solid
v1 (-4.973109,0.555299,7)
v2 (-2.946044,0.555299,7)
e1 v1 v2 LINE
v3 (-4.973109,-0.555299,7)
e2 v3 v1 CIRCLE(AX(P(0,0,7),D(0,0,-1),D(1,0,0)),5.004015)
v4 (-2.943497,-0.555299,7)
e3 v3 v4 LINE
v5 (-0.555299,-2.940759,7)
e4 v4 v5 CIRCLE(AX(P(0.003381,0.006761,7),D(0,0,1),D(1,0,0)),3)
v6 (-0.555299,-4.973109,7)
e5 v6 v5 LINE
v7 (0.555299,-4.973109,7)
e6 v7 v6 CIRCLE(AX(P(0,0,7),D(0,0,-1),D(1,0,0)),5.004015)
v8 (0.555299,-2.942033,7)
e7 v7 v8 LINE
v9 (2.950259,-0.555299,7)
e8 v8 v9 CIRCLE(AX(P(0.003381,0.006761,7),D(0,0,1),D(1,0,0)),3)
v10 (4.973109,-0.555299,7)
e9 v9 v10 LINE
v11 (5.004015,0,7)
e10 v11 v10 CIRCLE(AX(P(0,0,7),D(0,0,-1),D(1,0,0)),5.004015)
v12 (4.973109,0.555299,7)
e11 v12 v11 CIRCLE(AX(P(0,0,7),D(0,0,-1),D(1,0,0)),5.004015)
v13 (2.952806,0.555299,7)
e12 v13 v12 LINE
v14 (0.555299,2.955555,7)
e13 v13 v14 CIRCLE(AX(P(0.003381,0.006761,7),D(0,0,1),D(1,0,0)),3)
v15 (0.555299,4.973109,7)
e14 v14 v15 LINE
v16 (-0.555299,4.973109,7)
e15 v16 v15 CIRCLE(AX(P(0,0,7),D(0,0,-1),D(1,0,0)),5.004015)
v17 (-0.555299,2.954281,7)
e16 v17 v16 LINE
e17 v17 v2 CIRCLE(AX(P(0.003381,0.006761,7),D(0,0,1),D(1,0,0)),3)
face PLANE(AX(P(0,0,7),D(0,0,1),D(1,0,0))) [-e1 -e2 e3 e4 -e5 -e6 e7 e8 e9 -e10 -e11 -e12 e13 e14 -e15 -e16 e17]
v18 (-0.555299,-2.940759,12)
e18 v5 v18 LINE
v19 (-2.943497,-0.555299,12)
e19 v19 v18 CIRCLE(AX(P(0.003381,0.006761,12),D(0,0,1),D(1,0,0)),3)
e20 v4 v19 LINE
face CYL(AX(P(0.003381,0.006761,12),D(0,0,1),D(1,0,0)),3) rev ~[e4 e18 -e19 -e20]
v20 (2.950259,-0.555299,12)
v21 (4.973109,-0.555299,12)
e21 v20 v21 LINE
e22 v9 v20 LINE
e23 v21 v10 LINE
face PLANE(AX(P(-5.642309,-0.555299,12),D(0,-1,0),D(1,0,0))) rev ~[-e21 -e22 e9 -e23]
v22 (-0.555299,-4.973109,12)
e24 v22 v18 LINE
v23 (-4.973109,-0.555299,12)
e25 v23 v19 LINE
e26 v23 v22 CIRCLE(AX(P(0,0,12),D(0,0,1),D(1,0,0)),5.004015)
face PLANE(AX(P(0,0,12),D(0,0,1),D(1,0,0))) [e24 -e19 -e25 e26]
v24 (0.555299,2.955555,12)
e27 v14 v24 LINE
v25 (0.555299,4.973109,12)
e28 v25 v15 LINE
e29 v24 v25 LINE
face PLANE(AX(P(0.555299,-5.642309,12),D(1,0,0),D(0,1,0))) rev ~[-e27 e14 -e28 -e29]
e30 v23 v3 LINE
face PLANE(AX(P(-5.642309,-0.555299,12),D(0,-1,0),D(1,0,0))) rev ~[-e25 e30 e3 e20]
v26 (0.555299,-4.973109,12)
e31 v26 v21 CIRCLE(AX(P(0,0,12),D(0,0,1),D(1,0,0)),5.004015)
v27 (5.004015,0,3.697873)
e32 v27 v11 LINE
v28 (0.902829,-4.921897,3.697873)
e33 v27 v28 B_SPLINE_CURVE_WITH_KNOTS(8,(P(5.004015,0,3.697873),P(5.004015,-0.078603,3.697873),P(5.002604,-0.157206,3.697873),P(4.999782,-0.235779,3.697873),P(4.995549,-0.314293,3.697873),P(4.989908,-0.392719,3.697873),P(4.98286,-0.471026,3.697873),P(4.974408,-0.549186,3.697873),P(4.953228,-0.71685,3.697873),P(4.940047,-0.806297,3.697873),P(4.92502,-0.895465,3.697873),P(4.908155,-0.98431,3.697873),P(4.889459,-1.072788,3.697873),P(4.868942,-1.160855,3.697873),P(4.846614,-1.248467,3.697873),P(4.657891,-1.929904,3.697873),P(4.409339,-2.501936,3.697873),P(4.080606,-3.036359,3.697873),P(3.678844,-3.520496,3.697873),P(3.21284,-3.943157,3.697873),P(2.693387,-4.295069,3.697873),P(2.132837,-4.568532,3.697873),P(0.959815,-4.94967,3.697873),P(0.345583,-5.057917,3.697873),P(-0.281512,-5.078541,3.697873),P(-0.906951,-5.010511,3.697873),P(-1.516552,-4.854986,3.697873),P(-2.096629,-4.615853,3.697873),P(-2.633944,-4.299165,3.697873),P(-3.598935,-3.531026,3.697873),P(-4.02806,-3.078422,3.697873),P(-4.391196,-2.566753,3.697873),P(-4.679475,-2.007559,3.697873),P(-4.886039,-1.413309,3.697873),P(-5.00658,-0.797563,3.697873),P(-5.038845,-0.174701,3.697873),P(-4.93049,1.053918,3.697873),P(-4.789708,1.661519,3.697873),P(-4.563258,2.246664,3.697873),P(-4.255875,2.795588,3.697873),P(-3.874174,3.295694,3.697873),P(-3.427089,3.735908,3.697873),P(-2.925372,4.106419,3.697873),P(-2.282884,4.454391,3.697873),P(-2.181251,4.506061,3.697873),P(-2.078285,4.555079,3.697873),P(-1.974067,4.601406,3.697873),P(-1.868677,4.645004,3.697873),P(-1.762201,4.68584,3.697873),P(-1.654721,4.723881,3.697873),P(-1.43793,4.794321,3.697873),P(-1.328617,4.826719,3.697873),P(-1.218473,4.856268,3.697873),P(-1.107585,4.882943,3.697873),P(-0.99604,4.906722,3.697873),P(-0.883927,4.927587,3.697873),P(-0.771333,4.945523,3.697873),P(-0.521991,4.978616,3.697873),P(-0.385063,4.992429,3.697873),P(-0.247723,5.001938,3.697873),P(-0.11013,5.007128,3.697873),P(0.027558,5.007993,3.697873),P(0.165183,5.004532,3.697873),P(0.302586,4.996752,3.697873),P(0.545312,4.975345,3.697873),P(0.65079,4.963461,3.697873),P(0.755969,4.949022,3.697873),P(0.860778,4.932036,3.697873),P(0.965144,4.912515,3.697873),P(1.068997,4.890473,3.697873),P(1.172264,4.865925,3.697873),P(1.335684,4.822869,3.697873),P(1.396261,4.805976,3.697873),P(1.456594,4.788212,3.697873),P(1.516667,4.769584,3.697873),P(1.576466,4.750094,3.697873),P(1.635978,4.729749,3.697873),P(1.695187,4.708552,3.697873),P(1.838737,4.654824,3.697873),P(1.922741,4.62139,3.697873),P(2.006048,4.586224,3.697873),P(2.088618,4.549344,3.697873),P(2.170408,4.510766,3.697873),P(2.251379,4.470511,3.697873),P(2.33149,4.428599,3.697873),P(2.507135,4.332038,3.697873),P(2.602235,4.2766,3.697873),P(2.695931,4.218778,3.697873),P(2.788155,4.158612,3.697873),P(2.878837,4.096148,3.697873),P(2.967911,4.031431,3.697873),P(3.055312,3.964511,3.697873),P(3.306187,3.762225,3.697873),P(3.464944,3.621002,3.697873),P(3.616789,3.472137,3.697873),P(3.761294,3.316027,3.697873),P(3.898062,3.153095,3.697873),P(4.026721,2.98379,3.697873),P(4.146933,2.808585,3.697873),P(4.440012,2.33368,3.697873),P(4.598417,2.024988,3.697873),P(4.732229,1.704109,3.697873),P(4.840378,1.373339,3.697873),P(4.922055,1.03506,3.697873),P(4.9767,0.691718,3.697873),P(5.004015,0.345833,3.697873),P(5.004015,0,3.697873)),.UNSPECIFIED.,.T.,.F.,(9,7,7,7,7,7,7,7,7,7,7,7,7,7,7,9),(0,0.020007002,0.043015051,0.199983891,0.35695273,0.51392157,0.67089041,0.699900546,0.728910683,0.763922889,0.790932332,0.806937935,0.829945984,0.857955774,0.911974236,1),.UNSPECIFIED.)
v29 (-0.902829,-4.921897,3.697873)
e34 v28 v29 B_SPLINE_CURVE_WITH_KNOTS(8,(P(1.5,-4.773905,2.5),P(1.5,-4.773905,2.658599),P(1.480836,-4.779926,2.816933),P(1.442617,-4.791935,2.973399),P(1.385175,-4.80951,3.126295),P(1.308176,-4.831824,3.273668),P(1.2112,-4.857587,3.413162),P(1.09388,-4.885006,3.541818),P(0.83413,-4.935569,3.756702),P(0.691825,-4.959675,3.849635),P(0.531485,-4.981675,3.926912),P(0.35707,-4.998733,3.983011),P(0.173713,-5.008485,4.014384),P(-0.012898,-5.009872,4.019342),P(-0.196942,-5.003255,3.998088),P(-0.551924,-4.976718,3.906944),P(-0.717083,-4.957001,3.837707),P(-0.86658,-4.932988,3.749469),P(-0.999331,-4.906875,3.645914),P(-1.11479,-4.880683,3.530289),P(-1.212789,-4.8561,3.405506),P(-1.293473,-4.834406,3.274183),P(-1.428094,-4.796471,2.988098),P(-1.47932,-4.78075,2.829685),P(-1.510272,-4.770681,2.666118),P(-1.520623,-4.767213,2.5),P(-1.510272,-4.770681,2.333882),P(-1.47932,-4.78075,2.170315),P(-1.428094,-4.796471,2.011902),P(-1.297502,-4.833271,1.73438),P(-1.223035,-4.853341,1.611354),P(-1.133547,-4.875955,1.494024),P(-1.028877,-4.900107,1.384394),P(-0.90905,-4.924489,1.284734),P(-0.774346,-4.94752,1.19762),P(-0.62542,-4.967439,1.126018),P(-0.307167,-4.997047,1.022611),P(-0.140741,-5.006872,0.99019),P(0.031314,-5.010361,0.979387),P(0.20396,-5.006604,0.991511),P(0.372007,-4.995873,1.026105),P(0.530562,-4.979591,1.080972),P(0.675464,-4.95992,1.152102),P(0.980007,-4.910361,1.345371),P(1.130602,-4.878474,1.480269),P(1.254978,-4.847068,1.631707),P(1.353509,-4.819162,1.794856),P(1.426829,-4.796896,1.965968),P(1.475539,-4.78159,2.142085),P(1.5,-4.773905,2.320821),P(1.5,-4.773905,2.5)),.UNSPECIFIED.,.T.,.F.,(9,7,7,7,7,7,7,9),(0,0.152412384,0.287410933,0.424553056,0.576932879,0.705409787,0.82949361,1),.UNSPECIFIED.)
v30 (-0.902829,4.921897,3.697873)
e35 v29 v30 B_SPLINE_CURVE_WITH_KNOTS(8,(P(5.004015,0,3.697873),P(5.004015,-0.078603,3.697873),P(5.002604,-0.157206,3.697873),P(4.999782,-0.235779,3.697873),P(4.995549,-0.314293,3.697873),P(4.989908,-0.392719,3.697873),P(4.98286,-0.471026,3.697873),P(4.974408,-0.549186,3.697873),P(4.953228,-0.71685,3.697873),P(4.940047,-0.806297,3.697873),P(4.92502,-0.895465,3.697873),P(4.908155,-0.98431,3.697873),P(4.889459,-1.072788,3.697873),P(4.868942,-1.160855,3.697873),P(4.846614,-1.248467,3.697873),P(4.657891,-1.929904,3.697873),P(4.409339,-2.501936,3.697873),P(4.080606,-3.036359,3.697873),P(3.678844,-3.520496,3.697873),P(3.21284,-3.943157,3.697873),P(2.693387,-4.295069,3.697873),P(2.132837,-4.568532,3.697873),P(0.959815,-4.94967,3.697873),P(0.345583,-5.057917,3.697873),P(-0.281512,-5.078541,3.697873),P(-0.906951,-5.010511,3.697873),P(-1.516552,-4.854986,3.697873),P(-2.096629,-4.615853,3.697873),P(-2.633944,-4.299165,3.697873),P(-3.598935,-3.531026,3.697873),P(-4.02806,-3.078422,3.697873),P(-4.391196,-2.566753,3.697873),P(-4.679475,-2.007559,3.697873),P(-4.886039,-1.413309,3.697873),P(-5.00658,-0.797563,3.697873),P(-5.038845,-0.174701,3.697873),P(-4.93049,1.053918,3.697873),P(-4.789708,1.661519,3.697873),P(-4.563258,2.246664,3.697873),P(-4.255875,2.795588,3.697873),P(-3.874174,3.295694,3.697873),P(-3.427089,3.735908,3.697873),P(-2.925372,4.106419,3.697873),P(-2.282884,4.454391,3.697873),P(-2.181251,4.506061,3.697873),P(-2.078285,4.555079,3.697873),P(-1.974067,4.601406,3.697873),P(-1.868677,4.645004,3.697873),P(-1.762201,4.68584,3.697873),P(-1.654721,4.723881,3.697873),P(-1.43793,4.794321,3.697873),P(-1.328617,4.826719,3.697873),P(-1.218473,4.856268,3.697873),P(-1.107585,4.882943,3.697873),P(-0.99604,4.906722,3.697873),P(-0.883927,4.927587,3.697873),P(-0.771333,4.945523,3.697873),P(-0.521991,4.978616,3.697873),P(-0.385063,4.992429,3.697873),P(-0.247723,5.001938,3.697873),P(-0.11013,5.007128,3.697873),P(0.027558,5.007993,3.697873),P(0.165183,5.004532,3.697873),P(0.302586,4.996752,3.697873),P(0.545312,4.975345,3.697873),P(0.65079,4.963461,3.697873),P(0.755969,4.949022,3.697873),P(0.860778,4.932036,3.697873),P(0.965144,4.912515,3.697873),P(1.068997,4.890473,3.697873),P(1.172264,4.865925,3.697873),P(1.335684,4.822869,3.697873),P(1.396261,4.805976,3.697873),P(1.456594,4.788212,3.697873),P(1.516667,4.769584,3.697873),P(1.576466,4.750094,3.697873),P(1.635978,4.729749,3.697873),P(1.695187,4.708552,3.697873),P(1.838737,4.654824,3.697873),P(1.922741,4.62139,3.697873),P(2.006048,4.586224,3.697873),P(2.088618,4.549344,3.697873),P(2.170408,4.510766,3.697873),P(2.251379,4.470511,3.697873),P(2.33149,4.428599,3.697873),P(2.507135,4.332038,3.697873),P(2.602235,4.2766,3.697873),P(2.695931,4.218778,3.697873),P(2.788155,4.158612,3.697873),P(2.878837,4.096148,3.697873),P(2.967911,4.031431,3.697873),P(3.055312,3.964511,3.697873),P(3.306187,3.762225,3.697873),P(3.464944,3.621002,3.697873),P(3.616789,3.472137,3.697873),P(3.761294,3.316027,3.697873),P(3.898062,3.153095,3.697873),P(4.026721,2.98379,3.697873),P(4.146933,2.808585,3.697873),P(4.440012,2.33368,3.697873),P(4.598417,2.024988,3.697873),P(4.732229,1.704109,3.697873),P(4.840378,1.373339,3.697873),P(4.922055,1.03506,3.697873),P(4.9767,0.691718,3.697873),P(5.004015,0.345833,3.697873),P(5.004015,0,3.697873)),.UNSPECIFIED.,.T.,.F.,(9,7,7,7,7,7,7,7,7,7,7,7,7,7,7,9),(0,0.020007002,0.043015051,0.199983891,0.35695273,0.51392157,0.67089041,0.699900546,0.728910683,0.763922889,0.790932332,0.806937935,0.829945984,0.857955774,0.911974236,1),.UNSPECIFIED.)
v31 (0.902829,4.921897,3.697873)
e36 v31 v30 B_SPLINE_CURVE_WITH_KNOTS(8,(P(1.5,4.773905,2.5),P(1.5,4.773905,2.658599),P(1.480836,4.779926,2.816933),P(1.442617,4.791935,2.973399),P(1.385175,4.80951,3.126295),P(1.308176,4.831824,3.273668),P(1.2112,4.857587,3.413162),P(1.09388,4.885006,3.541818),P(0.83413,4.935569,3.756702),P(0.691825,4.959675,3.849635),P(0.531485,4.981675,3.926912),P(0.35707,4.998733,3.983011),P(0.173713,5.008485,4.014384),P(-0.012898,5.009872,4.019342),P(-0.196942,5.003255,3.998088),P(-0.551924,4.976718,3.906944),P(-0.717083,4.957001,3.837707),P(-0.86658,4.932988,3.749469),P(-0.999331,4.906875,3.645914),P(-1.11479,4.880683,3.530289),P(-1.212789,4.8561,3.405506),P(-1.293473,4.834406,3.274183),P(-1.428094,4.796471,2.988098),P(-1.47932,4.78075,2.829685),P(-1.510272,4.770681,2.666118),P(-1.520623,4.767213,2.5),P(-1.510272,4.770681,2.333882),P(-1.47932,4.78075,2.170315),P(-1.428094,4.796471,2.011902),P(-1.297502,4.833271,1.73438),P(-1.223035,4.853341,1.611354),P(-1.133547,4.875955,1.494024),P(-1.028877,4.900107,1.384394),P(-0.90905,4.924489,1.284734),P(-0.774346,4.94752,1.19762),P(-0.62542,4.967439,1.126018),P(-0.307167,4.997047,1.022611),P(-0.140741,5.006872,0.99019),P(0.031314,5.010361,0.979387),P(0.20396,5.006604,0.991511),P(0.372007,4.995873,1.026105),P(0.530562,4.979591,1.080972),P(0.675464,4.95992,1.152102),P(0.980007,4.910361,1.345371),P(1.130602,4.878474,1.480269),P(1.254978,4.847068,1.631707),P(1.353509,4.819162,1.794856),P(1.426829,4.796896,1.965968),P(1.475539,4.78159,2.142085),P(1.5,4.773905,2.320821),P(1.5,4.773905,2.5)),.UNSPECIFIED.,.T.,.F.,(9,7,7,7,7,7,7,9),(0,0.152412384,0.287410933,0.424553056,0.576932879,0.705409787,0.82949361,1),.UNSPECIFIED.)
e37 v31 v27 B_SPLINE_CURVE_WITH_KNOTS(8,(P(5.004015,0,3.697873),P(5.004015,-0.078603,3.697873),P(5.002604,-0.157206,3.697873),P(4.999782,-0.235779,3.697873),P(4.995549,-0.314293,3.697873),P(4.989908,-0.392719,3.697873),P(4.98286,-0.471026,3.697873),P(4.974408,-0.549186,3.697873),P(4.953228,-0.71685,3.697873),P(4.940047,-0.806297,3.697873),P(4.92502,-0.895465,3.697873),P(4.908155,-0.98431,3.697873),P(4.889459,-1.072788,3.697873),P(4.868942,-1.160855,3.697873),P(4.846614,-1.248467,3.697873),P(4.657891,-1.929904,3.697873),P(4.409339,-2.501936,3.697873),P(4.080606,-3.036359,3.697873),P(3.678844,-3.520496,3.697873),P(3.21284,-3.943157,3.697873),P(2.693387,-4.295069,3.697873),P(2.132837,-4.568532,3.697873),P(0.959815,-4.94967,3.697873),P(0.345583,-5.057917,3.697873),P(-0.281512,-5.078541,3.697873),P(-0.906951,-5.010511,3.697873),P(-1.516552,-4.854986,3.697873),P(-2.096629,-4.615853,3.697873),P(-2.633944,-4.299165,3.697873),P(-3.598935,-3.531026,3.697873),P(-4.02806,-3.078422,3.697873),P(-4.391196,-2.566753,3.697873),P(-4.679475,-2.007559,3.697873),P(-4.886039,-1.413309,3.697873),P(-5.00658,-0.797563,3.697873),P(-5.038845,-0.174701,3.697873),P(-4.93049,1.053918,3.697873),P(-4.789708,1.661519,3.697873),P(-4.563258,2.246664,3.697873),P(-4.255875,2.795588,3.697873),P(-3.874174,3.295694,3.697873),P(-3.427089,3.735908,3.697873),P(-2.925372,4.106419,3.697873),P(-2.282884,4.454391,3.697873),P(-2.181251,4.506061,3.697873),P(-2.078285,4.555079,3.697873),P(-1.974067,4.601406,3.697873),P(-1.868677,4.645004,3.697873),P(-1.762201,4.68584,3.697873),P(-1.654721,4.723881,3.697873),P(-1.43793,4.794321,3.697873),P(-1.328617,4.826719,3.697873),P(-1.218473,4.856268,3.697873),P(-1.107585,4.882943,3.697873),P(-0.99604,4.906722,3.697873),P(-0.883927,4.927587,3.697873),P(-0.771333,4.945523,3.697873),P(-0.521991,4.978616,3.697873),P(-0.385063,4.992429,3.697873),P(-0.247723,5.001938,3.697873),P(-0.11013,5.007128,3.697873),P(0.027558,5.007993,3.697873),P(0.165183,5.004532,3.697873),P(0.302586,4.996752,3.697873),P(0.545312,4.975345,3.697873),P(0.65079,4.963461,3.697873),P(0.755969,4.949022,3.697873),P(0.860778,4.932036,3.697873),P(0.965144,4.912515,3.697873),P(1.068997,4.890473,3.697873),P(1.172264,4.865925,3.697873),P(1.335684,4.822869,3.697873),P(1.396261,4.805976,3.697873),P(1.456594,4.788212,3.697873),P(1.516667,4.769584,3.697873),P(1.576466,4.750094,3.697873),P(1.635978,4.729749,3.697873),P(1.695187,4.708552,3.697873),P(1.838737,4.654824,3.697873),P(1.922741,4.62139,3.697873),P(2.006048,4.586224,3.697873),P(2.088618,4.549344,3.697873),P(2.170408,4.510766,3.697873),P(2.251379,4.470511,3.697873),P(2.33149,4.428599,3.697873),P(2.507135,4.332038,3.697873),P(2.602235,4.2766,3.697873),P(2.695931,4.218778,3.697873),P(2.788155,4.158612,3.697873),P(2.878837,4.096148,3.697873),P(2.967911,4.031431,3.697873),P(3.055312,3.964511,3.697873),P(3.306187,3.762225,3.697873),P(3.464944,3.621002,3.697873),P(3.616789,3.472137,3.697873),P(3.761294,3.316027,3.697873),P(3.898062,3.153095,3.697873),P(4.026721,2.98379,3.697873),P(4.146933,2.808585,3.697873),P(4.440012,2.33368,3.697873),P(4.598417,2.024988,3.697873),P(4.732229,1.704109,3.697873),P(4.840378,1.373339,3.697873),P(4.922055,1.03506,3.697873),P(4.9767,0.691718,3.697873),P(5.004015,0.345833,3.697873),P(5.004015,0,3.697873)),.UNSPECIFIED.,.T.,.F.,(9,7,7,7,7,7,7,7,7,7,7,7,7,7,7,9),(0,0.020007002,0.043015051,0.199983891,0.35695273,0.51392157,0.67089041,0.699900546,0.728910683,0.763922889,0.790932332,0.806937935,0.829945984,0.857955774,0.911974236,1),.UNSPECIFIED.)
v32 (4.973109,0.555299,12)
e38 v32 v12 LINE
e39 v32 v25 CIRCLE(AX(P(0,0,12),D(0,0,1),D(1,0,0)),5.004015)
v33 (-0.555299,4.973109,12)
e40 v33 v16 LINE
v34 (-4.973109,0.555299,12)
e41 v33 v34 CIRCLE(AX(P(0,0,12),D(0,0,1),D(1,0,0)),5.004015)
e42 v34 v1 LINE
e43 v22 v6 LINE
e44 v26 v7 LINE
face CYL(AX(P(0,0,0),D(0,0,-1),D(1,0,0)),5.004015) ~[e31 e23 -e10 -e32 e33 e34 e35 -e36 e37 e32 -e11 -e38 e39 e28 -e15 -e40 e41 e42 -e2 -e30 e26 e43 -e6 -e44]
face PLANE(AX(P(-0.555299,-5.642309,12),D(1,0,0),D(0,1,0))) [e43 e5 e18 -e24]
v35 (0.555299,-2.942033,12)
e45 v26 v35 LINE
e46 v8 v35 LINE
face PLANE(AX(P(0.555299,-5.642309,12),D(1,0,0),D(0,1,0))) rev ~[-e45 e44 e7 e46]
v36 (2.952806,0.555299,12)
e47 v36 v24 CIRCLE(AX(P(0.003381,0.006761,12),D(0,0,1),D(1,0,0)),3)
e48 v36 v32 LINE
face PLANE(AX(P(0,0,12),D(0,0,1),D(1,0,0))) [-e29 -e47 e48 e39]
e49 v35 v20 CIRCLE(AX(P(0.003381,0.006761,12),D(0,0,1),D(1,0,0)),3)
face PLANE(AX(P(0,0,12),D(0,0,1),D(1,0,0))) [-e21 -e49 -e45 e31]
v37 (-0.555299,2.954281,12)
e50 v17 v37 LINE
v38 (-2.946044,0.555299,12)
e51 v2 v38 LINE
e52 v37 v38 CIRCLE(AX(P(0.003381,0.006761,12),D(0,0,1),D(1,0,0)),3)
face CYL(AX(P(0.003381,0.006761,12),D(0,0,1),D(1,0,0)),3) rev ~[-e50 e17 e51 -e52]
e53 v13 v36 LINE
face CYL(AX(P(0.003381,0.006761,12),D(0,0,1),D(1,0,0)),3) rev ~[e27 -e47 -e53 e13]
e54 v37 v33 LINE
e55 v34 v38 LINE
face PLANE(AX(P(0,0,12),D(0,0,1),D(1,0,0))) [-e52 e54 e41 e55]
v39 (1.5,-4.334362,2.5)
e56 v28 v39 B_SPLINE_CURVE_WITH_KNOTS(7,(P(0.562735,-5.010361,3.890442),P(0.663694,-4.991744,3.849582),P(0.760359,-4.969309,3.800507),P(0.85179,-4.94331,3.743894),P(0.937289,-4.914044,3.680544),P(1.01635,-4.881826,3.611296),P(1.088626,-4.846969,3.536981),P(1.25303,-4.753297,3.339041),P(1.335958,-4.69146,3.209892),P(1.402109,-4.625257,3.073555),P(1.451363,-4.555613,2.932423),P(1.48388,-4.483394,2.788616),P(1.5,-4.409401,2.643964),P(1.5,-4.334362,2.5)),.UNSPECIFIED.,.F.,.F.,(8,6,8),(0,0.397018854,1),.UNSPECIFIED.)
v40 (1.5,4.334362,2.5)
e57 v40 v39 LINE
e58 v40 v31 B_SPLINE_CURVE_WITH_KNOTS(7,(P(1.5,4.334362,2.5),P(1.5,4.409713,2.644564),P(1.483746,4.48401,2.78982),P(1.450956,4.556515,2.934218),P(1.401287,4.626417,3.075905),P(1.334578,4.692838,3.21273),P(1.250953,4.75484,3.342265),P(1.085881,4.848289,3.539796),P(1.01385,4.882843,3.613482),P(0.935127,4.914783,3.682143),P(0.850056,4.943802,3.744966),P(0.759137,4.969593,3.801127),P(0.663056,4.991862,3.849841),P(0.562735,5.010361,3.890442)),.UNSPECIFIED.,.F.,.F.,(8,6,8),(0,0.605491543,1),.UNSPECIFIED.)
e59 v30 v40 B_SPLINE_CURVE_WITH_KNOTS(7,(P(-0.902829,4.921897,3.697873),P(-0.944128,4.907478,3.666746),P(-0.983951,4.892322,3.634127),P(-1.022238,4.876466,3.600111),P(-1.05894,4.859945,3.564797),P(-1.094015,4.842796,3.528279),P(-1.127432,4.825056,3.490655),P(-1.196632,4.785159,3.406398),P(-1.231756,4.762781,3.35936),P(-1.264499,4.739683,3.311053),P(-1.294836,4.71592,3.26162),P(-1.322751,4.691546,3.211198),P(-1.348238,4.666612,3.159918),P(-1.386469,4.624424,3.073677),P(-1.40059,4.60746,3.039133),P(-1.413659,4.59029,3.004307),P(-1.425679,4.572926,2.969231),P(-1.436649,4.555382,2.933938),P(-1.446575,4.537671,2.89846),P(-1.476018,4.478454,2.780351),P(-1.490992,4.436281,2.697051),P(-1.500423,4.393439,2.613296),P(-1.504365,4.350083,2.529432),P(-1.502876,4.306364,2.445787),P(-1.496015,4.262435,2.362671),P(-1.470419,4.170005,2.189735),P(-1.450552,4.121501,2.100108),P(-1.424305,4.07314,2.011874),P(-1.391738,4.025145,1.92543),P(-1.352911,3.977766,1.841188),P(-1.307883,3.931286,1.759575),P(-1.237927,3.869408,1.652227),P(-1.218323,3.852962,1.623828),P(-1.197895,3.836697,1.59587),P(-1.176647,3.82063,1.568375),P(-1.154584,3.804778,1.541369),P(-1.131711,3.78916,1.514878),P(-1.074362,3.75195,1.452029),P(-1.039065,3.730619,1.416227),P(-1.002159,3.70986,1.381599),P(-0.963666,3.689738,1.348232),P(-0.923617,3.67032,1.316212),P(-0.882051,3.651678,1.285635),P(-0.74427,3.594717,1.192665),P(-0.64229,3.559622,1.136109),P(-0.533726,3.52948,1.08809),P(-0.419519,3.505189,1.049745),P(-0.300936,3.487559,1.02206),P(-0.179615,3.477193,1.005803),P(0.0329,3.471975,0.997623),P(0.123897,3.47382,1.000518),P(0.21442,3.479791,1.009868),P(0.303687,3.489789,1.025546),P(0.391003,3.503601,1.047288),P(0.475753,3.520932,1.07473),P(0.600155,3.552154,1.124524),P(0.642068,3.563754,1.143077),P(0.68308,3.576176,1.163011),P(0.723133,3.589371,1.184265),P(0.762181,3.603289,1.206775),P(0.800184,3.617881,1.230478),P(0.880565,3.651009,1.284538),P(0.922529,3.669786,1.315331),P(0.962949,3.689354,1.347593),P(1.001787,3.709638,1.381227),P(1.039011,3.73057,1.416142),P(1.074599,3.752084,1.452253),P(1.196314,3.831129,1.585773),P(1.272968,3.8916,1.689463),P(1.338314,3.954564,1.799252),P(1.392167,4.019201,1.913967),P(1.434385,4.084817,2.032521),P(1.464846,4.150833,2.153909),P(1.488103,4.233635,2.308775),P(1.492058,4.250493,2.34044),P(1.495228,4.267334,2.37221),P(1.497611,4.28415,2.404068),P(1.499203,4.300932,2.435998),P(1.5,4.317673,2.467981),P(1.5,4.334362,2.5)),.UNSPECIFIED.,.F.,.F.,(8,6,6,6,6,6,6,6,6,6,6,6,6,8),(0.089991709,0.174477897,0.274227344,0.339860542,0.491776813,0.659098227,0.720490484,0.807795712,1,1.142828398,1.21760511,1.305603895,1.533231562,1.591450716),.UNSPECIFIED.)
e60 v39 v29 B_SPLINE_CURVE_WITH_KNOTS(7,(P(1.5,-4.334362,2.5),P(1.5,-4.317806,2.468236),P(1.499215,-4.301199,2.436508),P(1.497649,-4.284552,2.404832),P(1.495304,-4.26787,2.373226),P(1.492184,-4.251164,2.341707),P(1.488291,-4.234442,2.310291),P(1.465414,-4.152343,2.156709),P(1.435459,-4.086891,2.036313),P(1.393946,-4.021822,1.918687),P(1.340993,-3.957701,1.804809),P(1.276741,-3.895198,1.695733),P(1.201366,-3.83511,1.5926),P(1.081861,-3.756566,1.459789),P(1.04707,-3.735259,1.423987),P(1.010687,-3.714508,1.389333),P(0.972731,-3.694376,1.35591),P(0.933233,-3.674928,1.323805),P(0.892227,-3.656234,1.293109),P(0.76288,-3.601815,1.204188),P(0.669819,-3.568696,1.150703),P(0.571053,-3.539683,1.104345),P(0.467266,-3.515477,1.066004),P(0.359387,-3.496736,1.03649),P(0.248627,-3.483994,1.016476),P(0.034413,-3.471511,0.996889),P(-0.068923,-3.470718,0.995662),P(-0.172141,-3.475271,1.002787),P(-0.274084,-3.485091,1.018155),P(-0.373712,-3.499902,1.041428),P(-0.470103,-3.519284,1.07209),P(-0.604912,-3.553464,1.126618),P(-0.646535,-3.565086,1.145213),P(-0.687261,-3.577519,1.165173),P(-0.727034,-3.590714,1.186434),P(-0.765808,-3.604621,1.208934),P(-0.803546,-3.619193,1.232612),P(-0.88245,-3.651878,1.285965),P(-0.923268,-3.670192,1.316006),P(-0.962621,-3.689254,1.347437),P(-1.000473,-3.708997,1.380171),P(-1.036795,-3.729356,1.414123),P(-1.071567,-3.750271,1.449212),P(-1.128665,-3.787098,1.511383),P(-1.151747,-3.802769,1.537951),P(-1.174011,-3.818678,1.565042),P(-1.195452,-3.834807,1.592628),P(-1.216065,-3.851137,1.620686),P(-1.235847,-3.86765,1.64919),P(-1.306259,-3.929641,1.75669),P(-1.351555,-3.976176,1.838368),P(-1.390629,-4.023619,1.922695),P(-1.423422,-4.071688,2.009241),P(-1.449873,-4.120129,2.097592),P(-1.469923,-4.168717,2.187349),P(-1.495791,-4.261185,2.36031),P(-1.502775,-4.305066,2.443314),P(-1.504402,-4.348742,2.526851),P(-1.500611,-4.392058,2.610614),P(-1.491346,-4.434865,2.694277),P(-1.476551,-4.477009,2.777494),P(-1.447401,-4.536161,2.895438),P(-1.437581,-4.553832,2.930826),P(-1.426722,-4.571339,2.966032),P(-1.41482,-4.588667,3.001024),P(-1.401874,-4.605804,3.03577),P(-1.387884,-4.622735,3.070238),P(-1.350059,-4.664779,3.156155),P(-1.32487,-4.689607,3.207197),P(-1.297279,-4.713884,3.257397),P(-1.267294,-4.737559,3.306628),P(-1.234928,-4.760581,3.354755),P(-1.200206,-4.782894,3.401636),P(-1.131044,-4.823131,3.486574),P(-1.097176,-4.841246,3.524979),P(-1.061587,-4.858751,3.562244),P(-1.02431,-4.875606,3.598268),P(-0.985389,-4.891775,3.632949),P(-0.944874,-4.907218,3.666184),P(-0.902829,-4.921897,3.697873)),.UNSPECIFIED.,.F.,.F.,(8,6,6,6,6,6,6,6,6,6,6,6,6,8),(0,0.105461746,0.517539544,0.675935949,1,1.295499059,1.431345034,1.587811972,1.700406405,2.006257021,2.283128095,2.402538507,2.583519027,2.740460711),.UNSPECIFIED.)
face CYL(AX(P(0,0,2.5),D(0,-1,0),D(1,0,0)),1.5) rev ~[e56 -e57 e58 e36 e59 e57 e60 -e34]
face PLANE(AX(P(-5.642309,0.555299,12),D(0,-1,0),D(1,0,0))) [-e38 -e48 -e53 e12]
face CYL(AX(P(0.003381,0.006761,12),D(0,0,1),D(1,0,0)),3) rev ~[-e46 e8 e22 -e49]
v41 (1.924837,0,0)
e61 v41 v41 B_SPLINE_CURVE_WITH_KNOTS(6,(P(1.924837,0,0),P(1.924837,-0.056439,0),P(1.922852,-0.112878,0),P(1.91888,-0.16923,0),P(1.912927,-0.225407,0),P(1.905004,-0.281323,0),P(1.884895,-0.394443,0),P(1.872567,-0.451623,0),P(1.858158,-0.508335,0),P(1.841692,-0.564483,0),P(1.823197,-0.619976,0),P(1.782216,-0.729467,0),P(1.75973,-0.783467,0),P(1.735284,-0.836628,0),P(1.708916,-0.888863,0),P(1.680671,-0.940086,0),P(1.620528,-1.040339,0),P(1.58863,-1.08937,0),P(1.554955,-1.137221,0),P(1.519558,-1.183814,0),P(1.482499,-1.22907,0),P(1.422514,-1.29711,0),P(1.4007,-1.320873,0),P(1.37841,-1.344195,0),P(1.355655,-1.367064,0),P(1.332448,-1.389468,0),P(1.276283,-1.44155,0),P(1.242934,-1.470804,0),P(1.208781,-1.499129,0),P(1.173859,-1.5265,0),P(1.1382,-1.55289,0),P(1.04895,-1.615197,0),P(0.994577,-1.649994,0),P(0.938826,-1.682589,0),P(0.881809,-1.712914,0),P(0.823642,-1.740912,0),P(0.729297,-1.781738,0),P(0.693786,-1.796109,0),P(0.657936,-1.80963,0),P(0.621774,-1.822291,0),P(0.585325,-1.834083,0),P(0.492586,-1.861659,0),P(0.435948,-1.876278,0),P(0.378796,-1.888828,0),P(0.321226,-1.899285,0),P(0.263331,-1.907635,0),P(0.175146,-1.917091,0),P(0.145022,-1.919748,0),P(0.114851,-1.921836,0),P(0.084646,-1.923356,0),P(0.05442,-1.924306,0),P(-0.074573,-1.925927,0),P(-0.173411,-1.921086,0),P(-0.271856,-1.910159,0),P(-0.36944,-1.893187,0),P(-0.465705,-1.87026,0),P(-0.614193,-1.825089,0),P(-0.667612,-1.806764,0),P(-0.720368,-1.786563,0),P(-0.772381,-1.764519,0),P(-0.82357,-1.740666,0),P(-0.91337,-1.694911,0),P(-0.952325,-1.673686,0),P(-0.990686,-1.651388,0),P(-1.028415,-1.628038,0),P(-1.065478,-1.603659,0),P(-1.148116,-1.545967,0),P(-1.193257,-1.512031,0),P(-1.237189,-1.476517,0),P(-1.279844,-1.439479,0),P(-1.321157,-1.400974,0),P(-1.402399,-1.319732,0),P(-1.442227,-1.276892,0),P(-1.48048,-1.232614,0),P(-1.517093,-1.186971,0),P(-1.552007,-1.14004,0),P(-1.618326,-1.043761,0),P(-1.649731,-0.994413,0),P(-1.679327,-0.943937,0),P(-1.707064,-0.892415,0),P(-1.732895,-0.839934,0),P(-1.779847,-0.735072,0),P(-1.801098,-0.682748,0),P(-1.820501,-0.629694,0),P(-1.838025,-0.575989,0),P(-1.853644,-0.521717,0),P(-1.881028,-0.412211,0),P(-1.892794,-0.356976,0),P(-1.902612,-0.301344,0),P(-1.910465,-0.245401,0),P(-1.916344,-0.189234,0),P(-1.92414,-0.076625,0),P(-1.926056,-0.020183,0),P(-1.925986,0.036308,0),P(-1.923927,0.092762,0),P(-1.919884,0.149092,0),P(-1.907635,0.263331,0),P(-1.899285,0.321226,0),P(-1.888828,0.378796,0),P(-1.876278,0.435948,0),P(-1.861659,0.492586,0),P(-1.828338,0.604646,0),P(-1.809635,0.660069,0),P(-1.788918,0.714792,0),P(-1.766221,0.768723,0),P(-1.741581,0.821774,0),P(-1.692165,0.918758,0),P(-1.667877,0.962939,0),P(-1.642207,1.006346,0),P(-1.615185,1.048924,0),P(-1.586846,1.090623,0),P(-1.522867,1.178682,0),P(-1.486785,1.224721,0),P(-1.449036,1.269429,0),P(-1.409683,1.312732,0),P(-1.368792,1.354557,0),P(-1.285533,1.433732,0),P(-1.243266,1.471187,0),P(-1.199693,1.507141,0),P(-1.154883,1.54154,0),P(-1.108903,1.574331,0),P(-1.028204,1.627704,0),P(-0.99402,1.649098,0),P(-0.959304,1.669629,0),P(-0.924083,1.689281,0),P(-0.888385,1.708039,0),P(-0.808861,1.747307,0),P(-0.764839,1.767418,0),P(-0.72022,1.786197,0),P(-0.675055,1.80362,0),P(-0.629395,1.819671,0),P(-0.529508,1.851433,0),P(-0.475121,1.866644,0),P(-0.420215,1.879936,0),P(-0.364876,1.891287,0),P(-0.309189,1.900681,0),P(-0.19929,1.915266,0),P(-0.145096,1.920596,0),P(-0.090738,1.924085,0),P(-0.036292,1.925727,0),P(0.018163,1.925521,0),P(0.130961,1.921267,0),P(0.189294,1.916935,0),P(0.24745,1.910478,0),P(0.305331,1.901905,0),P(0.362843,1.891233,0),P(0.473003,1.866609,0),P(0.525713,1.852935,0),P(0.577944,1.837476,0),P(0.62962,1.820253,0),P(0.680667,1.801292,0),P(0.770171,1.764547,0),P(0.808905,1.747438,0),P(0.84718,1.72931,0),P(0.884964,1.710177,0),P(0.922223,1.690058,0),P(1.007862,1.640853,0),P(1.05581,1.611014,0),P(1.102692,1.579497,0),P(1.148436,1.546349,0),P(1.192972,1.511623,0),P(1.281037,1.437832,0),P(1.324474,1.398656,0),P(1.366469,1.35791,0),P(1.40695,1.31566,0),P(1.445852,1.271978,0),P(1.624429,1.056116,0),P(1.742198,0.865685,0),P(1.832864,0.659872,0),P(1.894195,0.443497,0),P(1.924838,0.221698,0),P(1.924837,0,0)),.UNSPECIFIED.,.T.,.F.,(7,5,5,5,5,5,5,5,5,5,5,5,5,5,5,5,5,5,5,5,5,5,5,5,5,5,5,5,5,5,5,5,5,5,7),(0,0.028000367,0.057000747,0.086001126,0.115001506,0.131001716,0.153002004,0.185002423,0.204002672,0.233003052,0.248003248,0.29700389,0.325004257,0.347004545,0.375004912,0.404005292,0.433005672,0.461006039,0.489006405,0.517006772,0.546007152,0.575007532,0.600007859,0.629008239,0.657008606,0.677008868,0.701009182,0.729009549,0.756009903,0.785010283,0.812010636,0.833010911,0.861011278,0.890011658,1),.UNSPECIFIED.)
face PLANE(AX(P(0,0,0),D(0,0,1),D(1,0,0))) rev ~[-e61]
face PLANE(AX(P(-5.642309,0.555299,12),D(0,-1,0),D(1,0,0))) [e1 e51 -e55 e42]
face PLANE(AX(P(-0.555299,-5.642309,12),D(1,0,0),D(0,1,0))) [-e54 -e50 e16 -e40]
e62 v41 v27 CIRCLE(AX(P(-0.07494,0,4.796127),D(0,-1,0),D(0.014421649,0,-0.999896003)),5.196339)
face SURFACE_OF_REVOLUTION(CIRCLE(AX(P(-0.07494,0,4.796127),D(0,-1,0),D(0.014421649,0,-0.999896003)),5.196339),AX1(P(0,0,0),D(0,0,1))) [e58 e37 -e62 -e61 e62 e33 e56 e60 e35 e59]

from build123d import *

# Parameters (mm, degrees)
SKETCH003_R        = 1.5
PAD001_DEPTH       = 10
SKETCH_R           = 5.004015
PAD_DEPTH          = 12
SKETCH001_W        = 11.284618
SKETCH001_H        = 1.110598
POCKET_DEPTH       = 5
POLARPATTERN_COUNT = 2
POLARPATTERN_ANGLE = 90
SKETCH002_R        = 3
POCKET001_DEPTH    = 5


with BuildPart() as revolution:
    # Sketch004 → Revolution (revolve)
    with BuildSketch(Plane.XZ):
        with BuildLine():
            ThreePointArc((0, -0.399672), (3.65233, 1.175436), (5.120847, 4.871912))
            Line((5.120847, 4.871912), (6.070016, 4.871912))
            Line((6.070016, 4.871912), (6.070016, -2.113572))
            Line((0, -2.113572), (6.070016, -2.113572))
            Line((0, -0.399672), (0, -2.113572))
        make_face()
    revolve(axis=Axis((0, 0, 0), (0, 0, 1)))


with BuildPart() as pad001:
    # Sketch003 → Pad001 (new body, symmetric)
    with BuildSketch(Plane.XZ):
        with Locations((0, 2.5)):
            Circle(SKETCH003_R)
    extrude(amount=PAD001_DEPTH, both=True)


with BuildPart() as pippetto_smussato:
    # Sketch → Pad (new body)
    with BuildSketch(Plane.XY):
        Circle(SKETCH_R)
    extrude(amount=PAD_DEPTH)

    # Sketch001 → Pocket (cut)
    with BuildSketch(Plane.XY.offset(12)):
        Rectangle(SKETCH001_W, SKETCH001_H)
    pocket = extrude(amount=-POCKET_DEPTH, mode=Mode.SUBTRACT)

    # PolarPattern: Pocket ×2 about axis
    polarpattern_axis = Axis((0, 0, 12), (0, 0, 1))
    for i in range(1, POLARPATTERN_COUNT):
        add(pocket.rotate(polarpattern_axis, i * POLARPATTERN_ANGLE / (POLARPATTERN_COUNT - 1)), mode=Mode.SUBTRACT)

    # Sketch002 → Pocket001 (cut)
    with BuildSketch(Plane.XY.offset(12)):
        with Locations((0.003381, 0.006761)):
            Circle(SKETCH002_R)
    extrude(amount=-POCKET001_DEPTH, mode=Mode.SUBTRACT)

    # Cut: cut Pad001
    add(pad001.part, mode=Mode.SUBTRACT)

    # Cut001: cut Revolution
    add(revolution.part, mode=Mode.SUBTRACT)


solid = pippetto_smussato.part
